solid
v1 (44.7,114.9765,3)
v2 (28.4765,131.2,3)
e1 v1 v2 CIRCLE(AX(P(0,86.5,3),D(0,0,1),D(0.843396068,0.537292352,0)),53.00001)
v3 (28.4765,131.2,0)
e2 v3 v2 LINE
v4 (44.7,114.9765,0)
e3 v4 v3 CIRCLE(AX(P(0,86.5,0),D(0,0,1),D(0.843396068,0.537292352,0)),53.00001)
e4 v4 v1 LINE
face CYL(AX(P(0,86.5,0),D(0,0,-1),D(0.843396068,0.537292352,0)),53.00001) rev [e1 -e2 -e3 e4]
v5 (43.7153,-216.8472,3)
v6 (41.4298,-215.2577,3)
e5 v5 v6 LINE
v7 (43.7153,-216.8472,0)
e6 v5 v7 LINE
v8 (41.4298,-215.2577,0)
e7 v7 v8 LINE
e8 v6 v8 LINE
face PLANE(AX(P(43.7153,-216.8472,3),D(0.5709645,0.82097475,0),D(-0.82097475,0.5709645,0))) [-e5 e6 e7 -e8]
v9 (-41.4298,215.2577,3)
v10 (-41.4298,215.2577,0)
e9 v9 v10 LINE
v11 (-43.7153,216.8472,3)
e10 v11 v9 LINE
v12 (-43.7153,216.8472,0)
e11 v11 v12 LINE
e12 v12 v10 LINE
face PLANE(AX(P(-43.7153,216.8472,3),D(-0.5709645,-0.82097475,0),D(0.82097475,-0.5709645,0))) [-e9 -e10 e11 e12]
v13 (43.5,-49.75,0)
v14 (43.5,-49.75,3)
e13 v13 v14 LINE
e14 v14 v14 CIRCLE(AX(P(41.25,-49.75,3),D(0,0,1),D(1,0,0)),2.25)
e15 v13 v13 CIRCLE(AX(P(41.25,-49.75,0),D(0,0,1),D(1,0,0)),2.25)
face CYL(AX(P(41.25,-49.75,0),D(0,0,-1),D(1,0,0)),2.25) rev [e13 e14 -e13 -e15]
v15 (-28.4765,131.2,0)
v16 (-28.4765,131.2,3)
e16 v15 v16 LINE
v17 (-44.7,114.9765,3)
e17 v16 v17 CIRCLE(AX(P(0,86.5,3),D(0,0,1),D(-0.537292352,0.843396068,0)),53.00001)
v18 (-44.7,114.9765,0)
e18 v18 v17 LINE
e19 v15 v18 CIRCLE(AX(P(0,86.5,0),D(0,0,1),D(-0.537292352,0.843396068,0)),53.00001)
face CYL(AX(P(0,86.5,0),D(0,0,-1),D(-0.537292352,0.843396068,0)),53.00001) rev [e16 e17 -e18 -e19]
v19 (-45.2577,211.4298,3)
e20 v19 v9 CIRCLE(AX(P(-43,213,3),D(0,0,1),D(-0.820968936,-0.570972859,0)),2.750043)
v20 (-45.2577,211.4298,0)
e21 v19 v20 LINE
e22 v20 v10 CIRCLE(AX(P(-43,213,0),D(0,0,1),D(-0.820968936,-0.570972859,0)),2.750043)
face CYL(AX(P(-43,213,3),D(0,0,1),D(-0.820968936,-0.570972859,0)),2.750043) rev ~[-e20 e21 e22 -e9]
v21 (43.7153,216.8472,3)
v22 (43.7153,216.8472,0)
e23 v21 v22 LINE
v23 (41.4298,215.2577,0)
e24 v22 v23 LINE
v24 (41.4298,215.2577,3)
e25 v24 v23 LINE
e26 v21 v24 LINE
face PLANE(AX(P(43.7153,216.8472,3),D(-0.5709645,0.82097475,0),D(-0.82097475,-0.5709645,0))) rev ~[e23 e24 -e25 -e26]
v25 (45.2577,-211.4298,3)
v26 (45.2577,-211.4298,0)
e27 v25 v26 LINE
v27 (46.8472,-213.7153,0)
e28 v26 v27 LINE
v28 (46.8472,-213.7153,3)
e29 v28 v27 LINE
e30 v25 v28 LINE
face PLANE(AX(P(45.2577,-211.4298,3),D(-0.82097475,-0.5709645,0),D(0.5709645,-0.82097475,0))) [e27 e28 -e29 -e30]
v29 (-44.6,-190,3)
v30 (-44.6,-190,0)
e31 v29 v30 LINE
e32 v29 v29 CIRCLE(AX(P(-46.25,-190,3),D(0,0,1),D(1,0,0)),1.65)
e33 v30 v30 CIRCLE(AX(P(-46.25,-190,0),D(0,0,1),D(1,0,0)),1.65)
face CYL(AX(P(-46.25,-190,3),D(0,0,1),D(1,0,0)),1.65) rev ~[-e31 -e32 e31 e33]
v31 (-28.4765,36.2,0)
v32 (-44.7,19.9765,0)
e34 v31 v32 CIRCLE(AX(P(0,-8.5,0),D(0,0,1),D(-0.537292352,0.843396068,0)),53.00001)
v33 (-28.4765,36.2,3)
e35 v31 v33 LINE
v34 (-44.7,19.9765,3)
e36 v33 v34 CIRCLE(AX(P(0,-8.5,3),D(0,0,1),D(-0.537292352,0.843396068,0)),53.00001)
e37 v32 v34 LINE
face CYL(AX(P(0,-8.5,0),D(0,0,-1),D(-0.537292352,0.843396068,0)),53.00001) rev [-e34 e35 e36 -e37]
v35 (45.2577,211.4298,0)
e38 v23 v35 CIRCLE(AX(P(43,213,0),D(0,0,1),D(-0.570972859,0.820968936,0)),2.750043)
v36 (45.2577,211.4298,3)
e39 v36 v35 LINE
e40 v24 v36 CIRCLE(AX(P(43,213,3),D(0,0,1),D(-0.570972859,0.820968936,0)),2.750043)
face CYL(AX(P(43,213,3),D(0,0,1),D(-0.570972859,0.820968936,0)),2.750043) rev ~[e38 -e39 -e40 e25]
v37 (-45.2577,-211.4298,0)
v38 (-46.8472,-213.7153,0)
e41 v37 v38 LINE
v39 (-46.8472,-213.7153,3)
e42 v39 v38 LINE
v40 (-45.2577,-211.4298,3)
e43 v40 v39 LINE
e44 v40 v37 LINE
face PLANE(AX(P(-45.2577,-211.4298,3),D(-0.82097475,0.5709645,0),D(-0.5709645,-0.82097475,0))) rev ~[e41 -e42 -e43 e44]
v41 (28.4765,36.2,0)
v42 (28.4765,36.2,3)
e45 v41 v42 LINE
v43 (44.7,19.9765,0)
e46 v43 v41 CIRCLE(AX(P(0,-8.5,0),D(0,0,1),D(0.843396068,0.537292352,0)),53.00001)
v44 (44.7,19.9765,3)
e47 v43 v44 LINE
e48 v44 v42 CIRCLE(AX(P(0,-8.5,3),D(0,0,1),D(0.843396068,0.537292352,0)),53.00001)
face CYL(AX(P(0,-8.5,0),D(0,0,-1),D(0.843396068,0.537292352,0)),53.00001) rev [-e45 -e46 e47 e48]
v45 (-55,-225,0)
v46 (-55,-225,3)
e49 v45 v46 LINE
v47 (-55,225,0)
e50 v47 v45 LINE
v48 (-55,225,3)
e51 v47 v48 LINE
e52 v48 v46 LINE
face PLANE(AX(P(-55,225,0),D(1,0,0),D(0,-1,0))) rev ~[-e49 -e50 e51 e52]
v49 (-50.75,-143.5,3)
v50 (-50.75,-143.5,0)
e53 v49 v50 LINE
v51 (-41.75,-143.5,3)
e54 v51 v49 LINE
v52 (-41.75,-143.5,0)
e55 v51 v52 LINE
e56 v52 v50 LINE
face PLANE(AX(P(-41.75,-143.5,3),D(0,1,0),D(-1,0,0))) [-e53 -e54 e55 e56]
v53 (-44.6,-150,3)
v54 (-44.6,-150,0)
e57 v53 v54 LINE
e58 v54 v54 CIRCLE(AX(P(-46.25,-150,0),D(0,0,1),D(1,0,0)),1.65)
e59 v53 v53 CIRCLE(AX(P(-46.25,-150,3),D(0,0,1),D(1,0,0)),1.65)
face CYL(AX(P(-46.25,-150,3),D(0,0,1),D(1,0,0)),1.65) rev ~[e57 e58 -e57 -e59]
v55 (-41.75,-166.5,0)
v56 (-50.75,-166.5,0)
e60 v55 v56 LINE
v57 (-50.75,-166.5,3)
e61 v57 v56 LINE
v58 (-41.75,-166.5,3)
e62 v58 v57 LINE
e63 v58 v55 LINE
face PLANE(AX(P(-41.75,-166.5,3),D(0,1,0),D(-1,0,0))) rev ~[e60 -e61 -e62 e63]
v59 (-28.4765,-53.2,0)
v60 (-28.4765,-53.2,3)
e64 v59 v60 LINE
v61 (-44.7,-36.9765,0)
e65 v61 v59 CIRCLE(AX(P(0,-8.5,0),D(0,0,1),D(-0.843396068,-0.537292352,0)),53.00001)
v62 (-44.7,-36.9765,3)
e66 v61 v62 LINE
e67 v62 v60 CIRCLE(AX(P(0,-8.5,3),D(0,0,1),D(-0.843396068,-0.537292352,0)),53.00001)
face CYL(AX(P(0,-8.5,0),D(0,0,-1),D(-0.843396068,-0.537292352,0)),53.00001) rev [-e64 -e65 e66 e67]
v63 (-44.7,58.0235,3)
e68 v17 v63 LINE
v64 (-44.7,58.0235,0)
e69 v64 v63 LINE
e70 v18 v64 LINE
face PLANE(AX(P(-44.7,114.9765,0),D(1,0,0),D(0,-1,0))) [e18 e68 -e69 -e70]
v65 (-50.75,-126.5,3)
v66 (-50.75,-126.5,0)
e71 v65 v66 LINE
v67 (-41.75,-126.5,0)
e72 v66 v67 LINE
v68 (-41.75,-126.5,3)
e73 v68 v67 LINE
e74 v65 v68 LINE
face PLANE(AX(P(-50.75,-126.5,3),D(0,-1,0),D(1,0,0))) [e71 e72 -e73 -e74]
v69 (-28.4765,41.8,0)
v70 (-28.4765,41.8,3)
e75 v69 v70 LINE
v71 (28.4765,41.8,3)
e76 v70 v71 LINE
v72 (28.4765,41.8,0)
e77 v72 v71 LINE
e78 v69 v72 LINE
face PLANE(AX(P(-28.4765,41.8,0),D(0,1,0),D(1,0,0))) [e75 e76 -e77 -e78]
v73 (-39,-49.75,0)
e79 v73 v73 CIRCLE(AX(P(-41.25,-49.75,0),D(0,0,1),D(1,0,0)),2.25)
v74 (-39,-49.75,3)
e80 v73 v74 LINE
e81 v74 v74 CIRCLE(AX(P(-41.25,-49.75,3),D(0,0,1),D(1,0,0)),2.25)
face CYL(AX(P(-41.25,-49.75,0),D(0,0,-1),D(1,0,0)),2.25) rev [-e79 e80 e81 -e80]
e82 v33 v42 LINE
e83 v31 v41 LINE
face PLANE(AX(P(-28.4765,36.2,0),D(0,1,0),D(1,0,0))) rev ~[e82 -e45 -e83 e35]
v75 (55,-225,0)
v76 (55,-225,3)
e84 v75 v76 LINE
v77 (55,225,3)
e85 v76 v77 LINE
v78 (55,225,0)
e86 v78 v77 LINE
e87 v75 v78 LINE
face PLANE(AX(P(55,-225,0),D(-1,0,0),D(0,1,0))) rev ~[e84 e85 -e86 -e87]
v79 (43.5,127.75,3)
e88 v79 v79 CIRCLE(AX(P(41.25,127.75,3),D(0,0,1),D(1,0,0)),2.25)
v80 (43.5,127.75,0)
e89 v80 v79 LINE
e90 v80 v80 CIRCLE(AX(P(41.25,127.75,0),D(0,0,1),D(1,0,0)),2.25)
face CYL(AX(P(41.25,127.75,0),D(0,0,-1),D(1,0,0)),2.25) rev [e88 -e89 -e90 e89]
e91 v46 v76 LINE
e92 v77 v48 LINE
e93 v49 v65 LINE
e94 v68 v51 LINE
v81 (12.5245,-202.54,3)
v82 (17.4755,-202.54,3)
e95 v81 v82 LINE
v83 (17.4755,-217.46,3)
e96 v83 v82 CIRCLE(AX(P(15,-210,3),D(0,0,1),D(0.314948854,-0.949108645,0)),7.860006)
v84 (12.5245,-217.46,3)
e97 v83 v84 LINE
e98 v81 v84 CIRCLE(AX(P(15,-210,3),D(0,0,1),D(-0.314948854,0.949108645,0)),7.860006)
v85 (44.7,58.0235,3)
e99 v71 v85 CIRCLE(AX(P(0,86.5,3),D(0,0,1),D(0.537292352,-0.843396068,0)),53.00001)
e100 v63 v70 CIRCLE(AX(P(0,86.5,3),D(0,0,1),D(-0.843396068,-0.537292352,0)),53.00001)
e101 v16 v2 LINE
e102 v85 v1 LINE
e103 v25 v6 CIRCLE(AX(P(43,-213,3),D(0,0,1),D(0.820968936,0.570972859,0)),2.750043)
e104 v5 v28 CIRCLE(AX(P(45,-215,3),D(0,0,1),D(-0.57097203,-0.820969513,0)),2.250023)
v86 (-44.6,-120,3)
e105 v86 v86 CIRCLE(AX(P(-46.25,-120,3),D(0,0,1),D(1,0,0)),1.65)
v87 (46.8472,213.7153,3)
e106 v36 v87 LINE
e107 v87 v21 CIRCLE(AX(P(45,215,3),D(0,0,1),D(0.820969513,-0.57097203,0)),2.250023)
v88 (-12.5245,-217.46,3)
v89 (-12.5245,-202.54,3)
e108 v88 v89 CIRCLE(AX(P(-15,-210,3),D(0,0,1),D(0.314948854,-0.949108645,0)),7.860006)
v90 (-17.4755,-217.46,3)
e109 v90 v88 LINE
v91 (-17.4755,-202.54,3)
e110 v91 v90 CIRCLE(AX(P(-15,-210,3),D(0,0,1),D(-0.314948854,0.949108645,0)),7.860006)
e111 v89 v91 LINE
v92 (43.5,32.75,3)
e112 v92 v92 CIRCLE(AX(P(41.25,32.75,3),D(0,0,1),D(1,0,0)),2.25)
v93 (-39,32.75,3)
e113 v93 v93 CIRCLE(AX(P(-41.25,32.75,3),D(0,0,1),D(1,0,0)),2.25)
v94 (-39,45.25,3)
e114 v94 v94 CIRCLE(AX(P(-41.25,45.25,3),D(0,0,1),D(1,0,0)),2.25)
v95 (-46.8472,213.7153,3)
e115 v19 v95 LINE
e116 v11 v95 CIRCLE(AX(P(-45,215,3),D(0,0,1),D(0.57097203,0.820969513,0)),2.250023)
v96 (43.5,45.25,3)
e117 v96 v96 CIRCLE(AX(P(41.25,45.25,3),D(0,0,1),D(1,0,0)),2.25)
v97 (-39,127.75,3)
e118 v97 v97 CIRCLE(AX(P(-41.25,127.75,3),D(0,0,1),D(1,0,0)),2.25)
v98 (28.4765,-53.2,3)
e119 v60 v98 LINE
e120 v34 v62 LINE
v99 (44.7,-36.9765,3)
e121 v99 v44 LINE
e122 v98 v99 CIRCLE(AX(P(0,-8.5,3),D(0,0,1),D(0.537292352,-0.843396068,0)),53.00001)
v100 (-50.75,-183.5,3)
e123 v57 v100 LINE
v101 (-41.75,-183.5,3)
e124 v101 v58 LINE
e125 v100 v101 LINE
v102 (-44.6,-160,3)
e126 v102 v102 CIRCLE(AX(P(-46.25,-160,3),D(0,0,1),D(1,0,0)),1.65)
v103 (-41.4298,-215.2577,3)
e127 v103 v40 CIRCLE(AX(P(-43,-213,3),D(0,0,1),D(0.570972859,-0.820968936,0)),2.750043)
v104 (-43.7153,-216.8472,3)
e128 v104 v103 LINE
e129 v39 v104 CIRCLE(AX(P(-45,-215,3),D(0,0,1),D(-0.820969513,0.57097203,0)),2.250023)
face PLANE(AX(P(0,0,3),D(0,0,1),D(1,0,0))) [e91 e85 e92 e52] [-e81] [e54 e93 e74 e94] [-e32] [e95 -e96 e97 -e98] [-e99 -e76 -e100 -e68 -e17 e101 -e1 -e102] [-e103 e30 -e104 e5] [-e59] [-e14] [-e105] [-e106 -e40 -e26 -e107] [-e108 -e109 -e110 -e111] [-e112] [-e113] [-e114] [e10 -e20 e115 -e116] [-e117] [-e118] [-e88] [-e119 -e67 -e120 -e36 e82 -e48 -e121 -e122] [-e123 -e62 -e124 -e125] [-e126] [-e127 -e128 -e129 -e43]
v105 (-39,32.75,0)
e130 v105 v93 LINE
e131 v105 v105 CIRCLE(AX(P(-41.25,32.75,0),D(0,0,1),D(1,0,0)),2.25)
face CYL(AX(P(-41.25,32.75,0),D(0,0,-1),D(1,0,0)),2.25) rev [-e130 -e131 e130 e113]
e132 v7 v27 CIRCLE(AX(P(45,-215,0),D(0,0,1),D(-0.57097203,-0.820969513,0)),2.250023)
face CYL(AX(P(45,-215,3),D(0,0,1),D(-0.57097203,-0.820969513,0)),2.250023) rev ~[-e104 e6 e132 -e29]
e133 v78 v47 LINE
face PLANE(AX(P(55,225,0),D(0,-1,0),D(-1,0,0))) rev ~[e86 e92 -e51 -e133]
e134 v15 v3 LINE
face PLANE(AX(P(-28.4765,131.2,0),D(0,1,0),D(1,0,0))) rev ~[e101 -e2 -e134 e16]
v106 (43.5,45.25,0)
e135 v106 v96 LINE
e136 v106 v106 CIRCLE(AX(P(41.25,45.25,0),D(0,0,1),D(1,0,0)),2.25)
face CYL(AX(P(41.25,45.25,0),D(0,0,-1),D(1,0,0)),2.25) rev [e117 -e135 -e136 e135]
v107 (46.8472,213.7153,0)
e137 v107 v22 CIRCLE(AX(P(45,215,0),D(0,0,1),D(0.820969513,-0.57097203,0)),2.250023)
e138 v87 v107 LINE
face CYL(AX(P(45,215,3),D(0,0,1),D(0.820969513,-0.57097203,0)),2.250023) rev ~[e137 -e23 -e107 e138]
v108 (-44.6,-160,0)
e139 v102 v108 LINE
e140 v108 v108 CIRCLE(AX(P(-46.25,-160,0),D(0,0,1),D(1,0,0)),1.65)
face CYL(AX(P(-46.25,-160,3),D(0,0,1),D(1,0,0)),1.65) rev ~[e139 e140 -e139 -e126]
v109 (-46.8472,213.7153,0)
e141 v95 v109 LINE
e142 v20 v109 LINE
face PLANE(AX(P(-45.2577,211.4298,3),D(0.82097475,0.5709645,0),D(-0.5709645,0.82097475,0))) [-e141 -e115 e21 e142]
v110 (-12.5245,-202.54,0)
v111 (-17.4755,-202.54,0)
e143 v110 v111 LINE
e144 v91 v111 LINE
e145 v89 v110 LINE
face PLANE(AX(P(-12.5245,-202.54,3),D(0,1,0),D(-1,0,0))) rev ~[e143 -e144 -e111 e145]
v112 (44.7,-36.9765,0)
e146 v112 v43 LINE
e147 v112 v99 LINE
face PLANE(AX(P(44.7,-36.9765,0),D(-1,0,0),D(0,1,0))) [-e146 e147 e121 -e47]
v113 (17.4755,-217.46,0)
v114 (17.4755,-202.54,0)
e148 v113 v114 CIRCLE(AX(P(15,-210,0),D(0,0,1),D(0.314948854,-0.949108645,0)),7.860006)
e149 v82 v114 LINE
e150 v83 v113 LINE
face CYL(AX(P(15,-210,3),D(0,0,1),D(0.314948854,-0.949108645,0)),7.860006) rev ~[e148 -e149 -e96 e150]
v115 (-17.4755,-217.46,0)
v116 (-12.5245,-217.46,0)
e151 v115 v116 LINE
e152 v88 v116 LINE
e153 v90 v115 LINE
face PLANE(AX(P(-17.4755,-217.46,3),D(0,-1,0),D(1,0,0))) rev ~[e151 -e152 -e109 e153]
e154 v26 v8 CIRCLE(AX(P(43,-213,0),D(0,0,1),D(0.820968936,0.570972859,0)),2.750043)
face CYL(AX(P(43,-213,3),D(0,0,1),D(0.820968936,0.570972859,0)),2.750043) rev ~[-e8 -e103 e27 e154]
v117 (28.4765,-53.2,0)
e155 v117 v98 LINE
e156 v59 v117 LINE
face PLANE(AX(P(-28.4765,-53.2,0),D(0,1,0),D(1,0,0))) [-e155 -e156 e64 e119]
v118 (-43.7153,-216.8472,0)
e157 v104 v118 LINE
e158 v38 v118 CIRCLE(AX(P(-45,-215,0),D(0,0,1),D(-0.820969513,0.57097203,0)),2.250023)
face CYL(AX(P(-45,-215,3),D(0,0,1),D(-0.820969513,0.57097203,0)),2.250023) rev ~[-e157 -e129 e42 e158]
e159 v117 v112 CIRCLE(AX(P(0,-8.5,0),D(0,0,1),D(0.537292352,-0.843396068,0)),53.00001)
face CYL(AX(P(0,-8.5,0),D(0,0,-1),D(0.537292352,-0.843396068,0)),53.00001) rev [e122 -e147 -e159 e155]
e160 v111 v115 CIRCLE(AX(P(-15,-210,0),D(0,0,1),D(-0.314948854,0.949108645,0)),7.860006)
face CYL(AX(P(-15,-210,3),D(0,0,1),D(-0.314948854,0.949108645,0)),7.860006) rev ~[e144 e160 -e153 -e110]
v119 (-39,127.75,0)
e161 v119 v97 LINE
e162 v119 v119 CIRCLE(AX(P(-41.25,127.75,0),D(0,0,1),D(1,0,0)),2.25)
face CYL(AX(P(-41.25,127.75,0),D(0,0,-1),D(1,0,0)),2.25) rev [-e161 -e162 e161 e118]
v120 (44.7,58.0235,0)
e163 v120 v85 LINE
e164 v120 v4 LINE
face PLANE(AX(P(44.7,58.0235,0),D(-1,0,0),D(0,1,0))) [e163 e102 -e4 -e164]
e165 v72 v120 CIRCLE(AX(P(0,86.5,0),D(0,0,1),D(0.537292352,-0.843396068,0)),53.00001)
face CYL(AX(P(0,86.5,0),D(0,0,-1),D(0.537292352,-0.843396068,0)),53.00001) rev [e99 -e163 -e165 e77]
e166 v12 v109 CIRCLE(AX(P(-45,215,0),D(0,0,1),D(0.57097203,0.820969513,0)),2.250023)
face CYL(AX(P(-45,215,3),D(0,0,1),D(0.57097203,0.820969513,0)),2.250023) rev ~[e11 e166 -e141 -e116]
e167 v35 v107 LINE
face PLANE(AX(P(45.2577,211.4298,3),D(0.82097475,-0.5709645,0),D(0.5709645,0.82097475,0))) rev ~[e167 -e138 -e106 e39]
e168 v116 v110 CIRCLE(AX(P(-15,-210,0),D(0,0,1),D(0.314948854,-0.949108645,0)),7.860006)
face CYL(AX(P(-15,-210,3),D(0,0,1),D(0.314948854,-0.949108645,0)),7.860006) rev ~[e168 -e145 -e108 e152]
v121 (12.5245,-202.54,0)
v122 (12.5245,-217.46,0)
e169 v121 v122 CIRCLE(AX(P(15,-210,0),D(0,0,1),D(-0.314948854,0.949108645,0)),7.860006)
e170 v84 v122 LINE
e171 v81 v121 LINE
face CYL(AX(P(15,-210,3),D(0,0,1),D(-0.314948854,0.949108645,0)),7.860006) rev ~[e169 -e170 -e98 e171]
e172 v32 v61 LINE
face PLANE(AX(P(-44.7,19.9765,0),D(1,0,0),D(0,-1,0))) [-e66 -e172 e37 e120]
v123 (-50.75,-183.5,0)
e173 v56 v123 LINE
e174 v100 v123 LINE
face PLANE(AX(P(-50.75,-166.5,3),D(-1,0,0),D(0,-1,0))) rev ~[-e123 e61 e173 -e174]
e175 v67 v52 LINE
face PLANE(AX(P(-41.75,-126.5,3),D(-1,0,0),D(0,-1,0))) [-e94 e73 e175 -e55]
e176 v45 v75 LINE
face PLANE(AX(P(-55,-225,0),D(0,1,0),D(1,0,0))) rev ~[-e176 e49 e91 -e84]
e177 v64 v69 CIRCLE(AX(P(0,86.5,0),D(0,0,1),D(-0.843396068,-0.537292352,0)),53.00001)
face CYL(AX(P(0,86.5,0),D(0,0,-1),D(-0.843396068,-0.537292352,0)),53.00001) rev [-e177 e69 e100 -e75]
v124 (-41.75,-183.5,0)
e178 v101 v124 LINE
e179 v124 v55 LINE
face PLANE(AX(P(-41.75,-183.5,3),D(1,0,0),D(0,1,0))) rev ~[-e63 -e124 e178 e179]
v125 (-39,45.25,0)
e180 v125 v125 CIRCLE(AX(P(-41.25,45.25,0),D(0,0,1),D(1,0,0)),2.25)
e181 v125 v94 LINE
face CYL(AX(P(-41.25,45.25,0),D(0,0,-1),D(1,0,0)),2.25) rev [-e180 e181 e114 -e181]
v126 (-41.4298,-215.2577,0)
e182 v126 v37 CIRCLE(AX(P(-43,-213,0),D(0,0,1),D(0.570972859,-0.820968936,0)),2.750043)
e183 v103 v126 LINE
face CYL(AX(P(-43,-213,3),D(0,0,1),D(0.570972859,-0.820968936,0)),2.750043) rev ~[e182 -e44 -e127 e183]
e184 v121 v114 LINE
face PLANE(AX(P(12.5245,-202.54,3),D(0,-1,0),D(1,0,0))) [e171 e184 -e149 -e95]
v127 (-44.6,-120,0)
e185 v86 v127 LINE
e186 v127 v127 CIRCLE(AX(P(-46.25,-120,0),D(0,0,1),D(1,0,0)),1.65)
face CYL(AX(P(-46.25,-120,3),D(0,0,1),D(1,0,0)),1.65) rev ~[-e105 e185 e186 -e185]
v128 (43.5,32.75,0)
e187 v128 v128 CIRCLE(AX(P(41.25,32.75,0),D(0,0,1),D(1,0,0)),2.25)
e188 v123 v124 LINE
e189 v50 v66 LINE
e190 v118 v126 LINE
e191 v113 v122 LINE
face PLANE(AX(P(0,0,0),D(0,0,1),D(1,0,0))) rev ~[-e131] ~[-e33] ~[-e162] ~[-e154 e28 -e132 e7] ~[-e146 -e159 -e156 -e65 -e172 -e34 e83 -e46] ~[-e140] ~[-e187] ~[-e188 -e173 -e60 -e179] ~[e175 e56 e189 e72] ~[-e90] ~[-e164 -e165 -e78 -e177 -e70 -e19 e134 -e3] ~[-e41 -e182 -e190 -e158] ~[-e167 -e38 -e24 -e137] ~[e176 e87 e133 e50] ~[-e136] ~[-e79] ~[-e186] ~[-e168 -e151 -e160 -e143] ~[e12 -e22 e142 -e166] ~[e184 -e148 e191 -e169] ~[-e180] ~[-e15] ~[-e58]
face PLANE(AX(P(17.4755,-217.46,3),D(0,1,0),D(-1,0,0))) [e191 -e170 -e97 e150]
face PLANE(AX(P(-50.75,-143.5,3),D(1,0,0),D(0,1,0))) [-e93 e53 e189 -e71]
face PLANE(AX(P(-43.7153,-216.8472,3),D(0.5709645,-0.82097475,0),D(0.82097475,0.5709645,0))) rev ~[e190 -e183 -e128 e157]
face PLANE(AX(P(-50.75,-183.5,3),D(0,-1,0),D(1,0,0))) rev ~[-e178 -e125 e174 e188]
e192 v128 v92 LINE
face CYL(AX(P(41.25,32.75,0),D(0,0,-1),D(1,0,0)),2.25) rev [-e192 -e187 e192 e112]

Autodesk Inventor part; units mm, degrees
ref_plane "YZ Plane" through (0, 0, 0) normal (1, 0, 0) x (0, 1, 0)
ref_plane "XZ Plane" through (0, 0, 0) normal (0, 1, 0) x (-1, 0, 0)
ref_plane "XY Plane" through (0, 0, 0) normal (0, 0, 1) x (1, 0, 0)
sketch "スケッチ1" plane through (0, 0, 0) normal (0, 0, 1) x (1, 0, 0)
  line L0 (-55, -225) -> (55, -225)
  line L1 (55, -225) -> (55, 225)
  line L2 (55, 225) -> (-55, 225)
  line L3 (-55, 225) -> (-55, -225)
  line L4 (-55, -225) -> (55, 225) construction
  line L5 (55, -225) -> (-55, 225) construction
  line L6 (-55, 195) -> (-50, 195) construction
  line L7 (-50, 195) -> (-25, 220) construction
  line L8 (-25, 220) -> (-25, 225) construction
  line L9 (-46, 40.5) -> (46, 40.5) construction
  line L10 (46, 40.5) -> (46, 132.5) construction
  line L11 (46, 132.5) -> (-46, 132.5) construction
  line L12 (-46, 132.5) -> (-46, 40.5) construction
  line L13 (-46, 40.5) -> (46, 132.5) construction
  line L14 (46, 40.5) -> (-46, 132.5) construction
  line L15 (-46, 1.5) -> (46, 1.5) construction
  line L16 (46, 1.5) -> (46, 37.5) construction
  line L17 (46, 37.5) -> (-46, 37.5) construction
  line L18 (-46, 37.5) -> (-46, 1.5) construction
  line L19 (-46, 1.5) -> (46, 37.5) construction
  line L20 (46, 1.5) -> (-46, 37.5) construction
  line L21 (0, 0) -> (0, 86.5) construction
  circle A0 centre (0, 86.5) radius 53 construction
  line L22 (-44.7, 41.8) -> (44.7, 41.8) construction
  line L23 (44.7, 41.8) -> (44.7, 131.2) construction
  line L24 (44.7, 131.2) -> (-44.7, 131.2) construction
  line L25 (-44.7, 131.2) -> (-44.7, 41.8) construction
  line L26 (-44.7, 41.8) -> (44.7, 131.2) construction
  line L27 (44.7, 41.8) -> (-44.7, 131.2) construction
  arc A1 (-28.4765, 131.2) -> (-44.7, 114.9765) centre (0, 86.5) ccw
  arc A2 (-44.7, 58.0235) -> (-28.4765, 41.8) centre (0, 86.5) ccw
  arc A3 (28.4765, 41.8) -> (44.7, 58.0235) centre (0, 86.5) ccw
  arc A4 (44.7, 114.9765) -> (28.4765, 131.2) centre (0, 86.5) ccw
  line L28 (-28.4765, 131.2) -> (28.4765, 131.2)
  line L29 (-44.7, 114.9765) -> (-44.7, 58.0235)
  line L30 (-28.4765, 41.8) -> (28.4765, 41.8)
  line L31 (44.7, 58.0235) -> (44.7, 114.9765)
  line L32 (-41.25, 45.25) -> (41.25, 45.25) construction
  line L33 (41.25, 45.25) -> (41.25, 127.75) construction
  line L34 (41.25, 127.75) -> (-41.25, 127.75) construction
  line L35 (-41.25, 127.75) -> (-41.25, 45.25) construction
  line L36 (-41.25, 45.25) -> (41.25, 127.75) construction
  line L37 (41.25, 45.25) -> (-41.25, 127.75) construction
  circle A5 centre (-41.25, 127.75) radius 2.25
  circle A6 centre (-41.25, 45.25) radius 2.25
  circle A7 centre (41.25, 45.25) radius 2.25
  circle A8 centre (41.25, 127.75) radius 2.25
  circle A9 centre (-45, 215) radius 2.25
  circle A10 centre (45, 215) radius 2.25
  circle A11 centre (45, -215) radius 2.25
  circle A12 centre (-45, -215) radius 2.25
  circle A13 centre (-45, 0) radius 2.25 construction
  circle A14 centre (45, 0) radius 2.25 construction
  line L38 (-55, 0) -> (55, 0) construction
  circle A15 centre (-41.25, -49.75) radius 2.25
  arc A16 (-44.7, -36.9765) -> (-28.4765, -53.2) centre (0, -8.5) ccw
  line L39 (-28.4765, -53.2) -> (28.4765, -53.2)
  arc A17 (28.4765, -53.2) -> (44.7, -36.9765) centre (0, -8.5) ccw
  circle A18 centre (41.25, -49.75) radius 2.25
  line L40 (44.7, -36.9765) -> (44.7, 19.9765)
  circle A19 centre (41.25, 32.75) radius 2.25
  arc A20 (44.7, 19.9765) -> (28.4765, 36.2) centre (0, -8.5) ccw
  line L41 (-28.4765, 36.2) -> (28.4765, 36.2)
  circle A21 centre (-41.25, 32.75) radius 2.25
  arc A22 (-28.4765, 36.2) -> (-44.7, 19.9765) centre (0, -8.5) ccw
  line L42 (-44.7, 19.9765) -> (-44.7, -36.9765)
  circle A23 centre (-41.25, -144.75) radius 2.25
  arc A24 (-44.7, -131.9765) -> (-28.4765, -148.2) centre (0, -103.5) ccw
  line L43 (-28.4765, -148.2) -> (28.4765, -148.2)
  arc A25 (28.4765, -148.2) -> (44.7, -131.9765) centre (0, -103.5) ccw
  circle A26 centre (41.25, -144.75) radius 2.25
  line L44 (44.7, -131.9765) -> (44.7, -75.0235)
  circle A27 centre (41.25, -62.25) radius 2.25
  arc A28 (44.7, -75.0235) -> (28.4765, -58.8) centre (0, -103.5) ccw
  line L45 (-28.4765, -58.8) -> (28.4765, -58.8)
  circle A29 centre (-41.25, -62.25) radius 2.25
  arc A30 (-28.4765, -58.8) -> (-44.7, -75.0235) centre (0, -103.5) ccw
  line L46 (-44.7, -75.0235) -> (-44.7, -131.9765)
  point P0 (0, 19.5)
  point P1 (0, 19.5)
  dimension "d12" = 106
  dimension "d0" = 110
  dimension "d1" = 450
  dimension "d2" = 135
  dimension "d3" = 30
  dimension "d4" = 30
  dimension "d5" = 5
  dimension "d6" = 92
  dimension "d7" = 92
  dimension "d8" = 92
  dimension "d9" = 36
  dimension "d10" = 3
  dimension "d11" = 1.5
  dimension "d13" = 89.4
  dimension "d14" = 89.4
  dimension "d15" = 82.5
  dimension "d16" = 82.5
  dimension "d17" = 4.5
  dimension "d25" = 4.5
  dimension "d26" = 10
  dimension "d27" = 10
  dimension "d28" = 10
  dimension "d29" = 10
  dimension "d30" = 10
  dimension "d31" = 10
  dimension "d32" = 10
  dimension "d33" = 10
  dimension "d34" = 10
  dimension "d35" = 10
  dimension "d45" = 95
extrude "押し出し1" add sketch "スケッチ1" along normal blind 3 contours L3 L2 L1 L0 | A23 | L46 A30 L45 A28 L44 A25 L43 A24 | A26 | A27 | A29
sketch "スケッチ2" plane through (0, 0, 3) normal (0, 0, 1) x (1, 0, 0)
  circle A0 centre (-45, 215) radius 2.25 construction
  circle A1 centre (45, -215) radius 2.25 construction
  circle A2 centre (-45, -215) radius 2.25 construction
  circle A3 centre (-43, 213) radius 2.75 construction
  line L0 (55, 225) -> (-55, 225) projected
  line L1 (-55, 225) -> (-55, -225) projected
  line L2 (-43.7153, 216.8472) -> (-41.4298, 215.2577)
  line L3 (-45.2577, 211.4298) -> (-46.8472, 213.7153)
  circle A4 centre (-45, 215) radius 2.25 construction
  arc A5 (-43.7153, 216.8472) -> (-46.8472, 213.7153) centre (-45, 215) ccw
  arc A6 (-45.2577, 211.4298) -> (-41.4298, 215.2577) centre (-43, 213) ccw
  line L4 (55, 225) -> (-55, 225) construction
  line L5 (0, 225) -> (0, -225) construction
  line L6 (-55, -225) -> (55, -225) construction
  line L7 (-55, 0) -> (55, 0) construction
  line L8 (55, -225) -> (55, 225) construction
  circle A7 centre (45, 215) radius 2.25 construction
  circle A8 centre (43, 213) radius 2.75 construction
  line L9 (43.7153, 216.8472) -> (41.4298, 215.2577)
  line L10 (45.2577, 211.4298) -> (46.8472, 213.7153)
  circle A9 centre (45, 215) radius 2.25 construction
  arc A10 (46.8472, 213.7153) -> (43.7153, 216.8472) centre (45, 215) ccw
  arc A11 (41.4298, 215.2577) -> (45.2577, 211.4298) centre (43, 213) ccw
  circle A12 centre (-45, -215) radius 2.25 construction
  circle A13 centre (-43, -213) radius 2.75 construction
  line L11 (-43.7153, -216.8472) -> (-41.4298, -215.2577)
  line L12 (-45.2577, -211.4298) -> (-46.8472, -213.7153)
  circle A14 centre (-45, -215) radius 2.25 construction
  arc A15 (-46.8472, -213.7153) -> (-43.7153, -216.8472) centre (-45, -215) ccw
  arc A16 (-41.4298, -215.2577) -> (-45.2577, -211.4298) centre (-43, -213) ccw
  circle A17 centre (45, -215) radius 2.25 construction
  line L13 (45.2577, -211.4298) -> (46.8472, -213.7153)
  arc A18 (45.2577, -211.4298) -> (41.4298, -215.2577) centre (43, -213) ccw
  circle A19 centre (43, -213) radius 2.75 construction
  line L14 (43.7153, -216.8472) -> (41.4298, -215.2577)
  circle A20 centre (45, -215) radius 2.25 construction
  arc A21 (43.7153, -216.8472) -> (46.8472, -213.7153) centre (45, -215) ccw
  point P0 (0, 0)
  dimension "d38" = 5.5
  dimension "d39" = 12
  dimension "d40" = 12
extrude "押し出し2" cut sketch "スケッチ2" against normal through all
sketch "スケッチ3" plane through (0, 0, 3) normal (0, 0, 1) x (1, 0, 0)
  line L0 (-55, -225) -> (55, -225) construction
  line L1 (-55, 225) -> (-55, -225) construction
  line L2 (55, -225) -> (55, 225) construction
  line L3 (0, -225) -> (0, -116.79) construction
  arc A0 (-17.4739, -202.55) -> (-17.4739, -217.45) centre (-15, -210) ccw construction
  line L4 (-17.4739, -202.55) -> (-12.5261, -202.55) construction
  line L5 (-12.5261, -217.45) -> (-17.4739, -217.45) construction
  arc A1 (-12.5261, -202.55) -> (-17.4739, -202.55) centre (-15, -210) ccw construction
  arc A2 (-12.5261, -217.45) -> (-12.5261, -202.55) centre (-15, -210) ccw construction
  arc A3 (-17.4739, -217.45) -> (-12.5261, -217.45) centre (-15, -210) ccw construction
  line L6 (-17.4755, -217.46) -> (-12.5245, -217.46)
  arc A4 (-12.5245, -217.46) -> (-12.5245, -202.54) centre (-15, -210) ccw
  line L7 (-12.5245, -202.54) -> (-17.4755, -202.54)
  arc A5 (-17.4755, -202.54) -> (-17.4755, -217.46) centre (-15, -210) ccw
  line L8 (17.4755, -217.46) -> (12.5245, -217.46)
  arc A6 (12.5245, -202.54) -> (12.5245, -217.46) centre (15, -210) ccw
  line L9 (12.5245, -202.54) -> (17.4755, -202.54)
  arc A7 (17.4755, -217.46) -> (17.4755, -202.54) centre (15, -210) ccw
  point P0 (0, 0)
  dimension "d50" = 15.7
  dimension "d51" = 14.9
  dimension "d52" = 15
  dimension "d53" = 15
  dimension "d54" = 40
  dimension "d55" = 0.01
extrude "押し出し3" cut sketch "スケッチ3" against normal through all
sketch "スケッチ4" plane through (0, 0, 3) normal (0, 0, 1) x (1, 0, 0)
  line L0 (-55, 225) -> (-55, -225) projected
  line L1 (-55, 225) -> (55, 225)
  line L2 (55, 225) -> (55, 222)
  line L3 (55, 222) -> (-55, 222)
  line L4 (-55, 222) -> (-55, 225)
  point P0 (0, 0)
  dimension "d58" = 3
extrude "押し出し4" [suppressed]
sketch "スケッチ6" plane through (0, 0, 3) normal (0, 0, 1) x (1, 0, 0)
  line L0 (-55, 225) -> (-55, -225) construction
  line L1 (-55, -225) -> (-25, -225) construction
  line L2 (-25, -225) -> (-25, -195) construction
  line L3 (-25, -195) -> (-55, -195) construction
  line L4 (-55, -195) -> (-55, -225) construction
  line L5 (-40, -155) -> (-40, -195) construction
  line L6 (-46.25, -175) -> (-46.25, -160) construction
  line L7 (-46.25, -175) -> (-46.25, -190) construction
  line L8 (-33.75, -175) -> (-33.75, -160) construction
  line L9 (-33.75, -175) -> (-33.75, -190) construction
  circle A0 centre (-46.25, -160) radius 1.65
  circle A1 centre (-33.75, -160) radius 1.65 construction
  circle A2 centre (-33.75, -190) radius 1.65 construction
  circle A3 centre (-46.25, -190) radius 1.65
  line L10 (-50.75, -183.5) -> (-41.75, -183.5)
  line L11 (-41.75, -183.5) -> (-41.75, -166.5)
  line L12 (-41.75, -166.5) -> (-50.75, -166.5)
  line L13 (-50.75, -166.5) -> (-50.75, -183.5)
  line L14 (-50.75, -183.5) -> (-41.75, -166.5) construction
  line L15 (-41.75, -183.5) -> (-50.75, -166.5) construction
  line L16 (-38.25, -183.5) -> (-29.25, -183.5) construction
  line L17 (-29.25, -183.5) -> (-29.25, -166.5) construction
  line L18 (-29.25, -166.5) -> (-38.25, -166.5) construction
  line L19 (-38.25, -166.5) -> (-38.25, -183.5) construction
  line L20 (-38.25, -183.5) -> (-29.25, -166.5) construction
  line L21 (-29.25, -183.5) -> (-38.25, -166.5) construction
  line L22 (-52.5, -155) -> (-27.5, -155) construction
  line L23 (-46.25, -175) -> (-40, -175) construction
  line L24 (-33.75, -175) -> (-40, -175) construction
  circle A4 centre (-46.25, -150) radius 1.65
  circle A5 centre (-46.25, -120) radius 1.65
  line L25 (-50.75, -126.5) -> (-41.75, -126.5)
  line L26 (-41.75, -126.5) -> (-41.75, -143.5)
  line L27 (-41.75, -143.5) -> (-50.75, -143.5)
  line L28 (-50.75, -143.5) -> (-50.75, -126.5)
  point P0 (0, 0)
  point P1 (-36.875, -175)
  point P2 (-43.125, -175)
  dimension "d64" = 30
  dimension "d65" = 30
  dimension "d68" = 30
  dimension "d69" = 3.3
  dimension "d70" = 9
  dimension "d71" = 17
  dimension "d75" = 25
  dimension "d77" = 6.25
  dimension "d78" = 40
  dimension "d79" = 15
extrude "押し出し6" cut sketch "スケッチ6" against normal through all
sketch "スケッチ5" plane through (0, 0, 3) normal (0, 0, 1) x (1, 0, 0)
  arc A0 (-12.5245, -217.46) -> (-12.5245, -202.54) centre (-15, -210) ccw construction
  line L0 (-12.5245, -217.46) -> (-17.4755, -217.46) construction
  arc A1 (-17.4755, -202.54) -> (-17.4755, -217.46) centre (-15, -210) ccw construction
  line L1 (-17.4755, -202.54) -> (-12.5245, -202.54) construction
  arc A2 (12.5245, -202.54) -> (12.5245, -217.46) centre (15, -210) ccw construction
  line L2 (12.5245, -202.54) -> (17.4755, -202.54) construction
  arc A3 (17.4755, -217.46) -> (17.4755, -202.54) centre (15, -210) ccw construction
  line L3 (17.4755, -217.46) -> (12.5245, -217.46) construction
  line L4 (-55, -225) -> (55, -225) construction
  line L5 (55, -225) -> (55, 225) construction
  line L6 (55, 225) -> (-55, 225) construction
  line L7 (-55, 225) -> (-55, -225) construction
  circle A4 centre (-41.25, 127.75) radius 2.25 construction
  circle A5 centre (-41.25, 45.25) radius 2.25 construction
  circle A6 centre (41.25, 45.25) radius 2.25 construction
  circle A7 centre (41.25, 127.75) radius 2.25 construction
  line L8 (43.7153, -216.8472) -> (41.4298, -215.2577) construction
  arc A8 (45.2577, -211.4298) -> (41.4298, -215.2577) centre (43, -213) ccw construction
  line L9 (45.2577, -211.4298) -> (46.8472, -213.7153) construction
  arc A9 (43.7153, -216.8472) -> (46.8472, -213.7153) centre (45, -215) ccw construction
  circle A10 centre (-41.25, -49.75) radius 2.25 construction
  circle A11 centre (41.25, -49.75) radius 2.25 construction
  circle A12 centre (41.25, 32.75) radius 2.25 construction
  circle A13 centre (-41.25, 32.75) radius 2.25 construction
  line L10 (-28.4765, 131.2) -> (28.4765, 131.2) construction
  arc A14 (44.7, 114.9765) -> (28.4765, 131.2) centre (0, 86.5) ccw construction
  line L11 (44.7, 114.9765) -> (44.7, 58.0235) construction
  arc A15 (28.4765, 41.8) -> (44.7, 58.0235) centre (0, 86.5) ccw construction
  line L12 (28.4765, 41.8) -> (-28.4765, 41.8) construction
  arc A16 (-44.7, 58.0235) -> (-28.4765, 41.8) centre (0, 86.5) ccw construction
  line L13 (-44.7, 58.0235) -> (-44.7, 114.9765) construction
  arc A17 (-28.4765, 131.2) -> (-44.7, 114.9765) centre (0, 86.5) ccw construction
  line L14 (-44.7, -36.9765) -> (-44.7, 19.9765) construction
  arc A18 (-28.4765, 36.2) -> (-44.7, 19.9765) centre (0, -8.5) ccw construction
  line L15 (-28.4765, 36.2) -> (28.4765, 36.2) construction
  arc A19 (44.7, 19.9765) -> (28.4765, 36.2) centre (0, -8.5) ccw construction
  line L16 (44.7, 19.9765) -> (44.7, -36.9765) construction
  arc A20 (28.4765, -53.2) -> (44.7, -36.9765) centre (0, -8.5) ccw construction
  line L17 (28.4765, -53.2) -> (-28.4765, -53.2) construction
  arc A21 (-44.7, -36.9765) -> (-28.4765, -53.2) centre (0, -8.5) ccw construction
  line L18 (41.4298, 215.2577) -> (43.7153, 216.8472) construction
  arc A22 (46.8472, 213.7153) -> (43.7153, 216.8472) centre (45, 215) ccw construction
  line L19 (46.8472, 213.7153) -> (45.2577, 211.4298) construction
  arc A23 (41.4298, 215.2577) -> (45.2577, 211.4298) centre (43, 213) ccw construction
  line L20 (-45.2577, 211.4298) -> (-46.8472, 213.7153) construction
  arc A24 (-43.7153, 216.8472) -> (-46.8472, 213.7153) centre (-45, 215) ccw construction
  line L21 (-43.7153, 216.8472) -> (-41.4298, 215.2577) construction
  arc A25 (-45.2577, 211.4298) -> (-41.4298, 215.2577) centre (-43, 213) ccw construction
  line L22 (-41.4298, -215.2577) -> (-43.7153, -216.8472) construction
  arc A26 (-46.8472, -213.7153) -> (-43.7153, -216.8472) centre (-45, -215) ccw construction
  line L23 (-46.8472, -213.7153) -> (-45.2577, -211.4298) construction
  arc A27 (-41.4298, -215.2577) -> (-45.2577, -211.4298) centre (-43, -213) ccw construction
  line L24 (-54.75, 224.75) -> (54.75, 224.75)
  line L25 (54.75, 224.75) -> (54.75, -224.75)
  line L26 (54.75, -224.75) -> (-54.75, -224.75)
  line L27 (-54.75, -224.75) -> (-54.75, 224.75)
  point P0 (0, 0)
  dimension "d61" = 0.25
extrude "押し出し5" [suppressed]
equation "\"d4\" = d3"
equation "\"d11\" = 0.5 * d10"
equation "\"d27\" = d26"
equation "\"d28\" = d26"
equation "\"d29\" = d26"
equation "\"d30\" = d26"
equation "\"d31\" = d26"
equation "\"d32\" = d26"
equation "\"d33\" = d26"
equation "\"d34\" = d26"
equation "\"d35\" = d26"
equation "\"d45\" = d7 + d10"
equation "\"d77\" = 0.25 * d75"
properties part number "top_panel" material "アルミニウム 6061"
